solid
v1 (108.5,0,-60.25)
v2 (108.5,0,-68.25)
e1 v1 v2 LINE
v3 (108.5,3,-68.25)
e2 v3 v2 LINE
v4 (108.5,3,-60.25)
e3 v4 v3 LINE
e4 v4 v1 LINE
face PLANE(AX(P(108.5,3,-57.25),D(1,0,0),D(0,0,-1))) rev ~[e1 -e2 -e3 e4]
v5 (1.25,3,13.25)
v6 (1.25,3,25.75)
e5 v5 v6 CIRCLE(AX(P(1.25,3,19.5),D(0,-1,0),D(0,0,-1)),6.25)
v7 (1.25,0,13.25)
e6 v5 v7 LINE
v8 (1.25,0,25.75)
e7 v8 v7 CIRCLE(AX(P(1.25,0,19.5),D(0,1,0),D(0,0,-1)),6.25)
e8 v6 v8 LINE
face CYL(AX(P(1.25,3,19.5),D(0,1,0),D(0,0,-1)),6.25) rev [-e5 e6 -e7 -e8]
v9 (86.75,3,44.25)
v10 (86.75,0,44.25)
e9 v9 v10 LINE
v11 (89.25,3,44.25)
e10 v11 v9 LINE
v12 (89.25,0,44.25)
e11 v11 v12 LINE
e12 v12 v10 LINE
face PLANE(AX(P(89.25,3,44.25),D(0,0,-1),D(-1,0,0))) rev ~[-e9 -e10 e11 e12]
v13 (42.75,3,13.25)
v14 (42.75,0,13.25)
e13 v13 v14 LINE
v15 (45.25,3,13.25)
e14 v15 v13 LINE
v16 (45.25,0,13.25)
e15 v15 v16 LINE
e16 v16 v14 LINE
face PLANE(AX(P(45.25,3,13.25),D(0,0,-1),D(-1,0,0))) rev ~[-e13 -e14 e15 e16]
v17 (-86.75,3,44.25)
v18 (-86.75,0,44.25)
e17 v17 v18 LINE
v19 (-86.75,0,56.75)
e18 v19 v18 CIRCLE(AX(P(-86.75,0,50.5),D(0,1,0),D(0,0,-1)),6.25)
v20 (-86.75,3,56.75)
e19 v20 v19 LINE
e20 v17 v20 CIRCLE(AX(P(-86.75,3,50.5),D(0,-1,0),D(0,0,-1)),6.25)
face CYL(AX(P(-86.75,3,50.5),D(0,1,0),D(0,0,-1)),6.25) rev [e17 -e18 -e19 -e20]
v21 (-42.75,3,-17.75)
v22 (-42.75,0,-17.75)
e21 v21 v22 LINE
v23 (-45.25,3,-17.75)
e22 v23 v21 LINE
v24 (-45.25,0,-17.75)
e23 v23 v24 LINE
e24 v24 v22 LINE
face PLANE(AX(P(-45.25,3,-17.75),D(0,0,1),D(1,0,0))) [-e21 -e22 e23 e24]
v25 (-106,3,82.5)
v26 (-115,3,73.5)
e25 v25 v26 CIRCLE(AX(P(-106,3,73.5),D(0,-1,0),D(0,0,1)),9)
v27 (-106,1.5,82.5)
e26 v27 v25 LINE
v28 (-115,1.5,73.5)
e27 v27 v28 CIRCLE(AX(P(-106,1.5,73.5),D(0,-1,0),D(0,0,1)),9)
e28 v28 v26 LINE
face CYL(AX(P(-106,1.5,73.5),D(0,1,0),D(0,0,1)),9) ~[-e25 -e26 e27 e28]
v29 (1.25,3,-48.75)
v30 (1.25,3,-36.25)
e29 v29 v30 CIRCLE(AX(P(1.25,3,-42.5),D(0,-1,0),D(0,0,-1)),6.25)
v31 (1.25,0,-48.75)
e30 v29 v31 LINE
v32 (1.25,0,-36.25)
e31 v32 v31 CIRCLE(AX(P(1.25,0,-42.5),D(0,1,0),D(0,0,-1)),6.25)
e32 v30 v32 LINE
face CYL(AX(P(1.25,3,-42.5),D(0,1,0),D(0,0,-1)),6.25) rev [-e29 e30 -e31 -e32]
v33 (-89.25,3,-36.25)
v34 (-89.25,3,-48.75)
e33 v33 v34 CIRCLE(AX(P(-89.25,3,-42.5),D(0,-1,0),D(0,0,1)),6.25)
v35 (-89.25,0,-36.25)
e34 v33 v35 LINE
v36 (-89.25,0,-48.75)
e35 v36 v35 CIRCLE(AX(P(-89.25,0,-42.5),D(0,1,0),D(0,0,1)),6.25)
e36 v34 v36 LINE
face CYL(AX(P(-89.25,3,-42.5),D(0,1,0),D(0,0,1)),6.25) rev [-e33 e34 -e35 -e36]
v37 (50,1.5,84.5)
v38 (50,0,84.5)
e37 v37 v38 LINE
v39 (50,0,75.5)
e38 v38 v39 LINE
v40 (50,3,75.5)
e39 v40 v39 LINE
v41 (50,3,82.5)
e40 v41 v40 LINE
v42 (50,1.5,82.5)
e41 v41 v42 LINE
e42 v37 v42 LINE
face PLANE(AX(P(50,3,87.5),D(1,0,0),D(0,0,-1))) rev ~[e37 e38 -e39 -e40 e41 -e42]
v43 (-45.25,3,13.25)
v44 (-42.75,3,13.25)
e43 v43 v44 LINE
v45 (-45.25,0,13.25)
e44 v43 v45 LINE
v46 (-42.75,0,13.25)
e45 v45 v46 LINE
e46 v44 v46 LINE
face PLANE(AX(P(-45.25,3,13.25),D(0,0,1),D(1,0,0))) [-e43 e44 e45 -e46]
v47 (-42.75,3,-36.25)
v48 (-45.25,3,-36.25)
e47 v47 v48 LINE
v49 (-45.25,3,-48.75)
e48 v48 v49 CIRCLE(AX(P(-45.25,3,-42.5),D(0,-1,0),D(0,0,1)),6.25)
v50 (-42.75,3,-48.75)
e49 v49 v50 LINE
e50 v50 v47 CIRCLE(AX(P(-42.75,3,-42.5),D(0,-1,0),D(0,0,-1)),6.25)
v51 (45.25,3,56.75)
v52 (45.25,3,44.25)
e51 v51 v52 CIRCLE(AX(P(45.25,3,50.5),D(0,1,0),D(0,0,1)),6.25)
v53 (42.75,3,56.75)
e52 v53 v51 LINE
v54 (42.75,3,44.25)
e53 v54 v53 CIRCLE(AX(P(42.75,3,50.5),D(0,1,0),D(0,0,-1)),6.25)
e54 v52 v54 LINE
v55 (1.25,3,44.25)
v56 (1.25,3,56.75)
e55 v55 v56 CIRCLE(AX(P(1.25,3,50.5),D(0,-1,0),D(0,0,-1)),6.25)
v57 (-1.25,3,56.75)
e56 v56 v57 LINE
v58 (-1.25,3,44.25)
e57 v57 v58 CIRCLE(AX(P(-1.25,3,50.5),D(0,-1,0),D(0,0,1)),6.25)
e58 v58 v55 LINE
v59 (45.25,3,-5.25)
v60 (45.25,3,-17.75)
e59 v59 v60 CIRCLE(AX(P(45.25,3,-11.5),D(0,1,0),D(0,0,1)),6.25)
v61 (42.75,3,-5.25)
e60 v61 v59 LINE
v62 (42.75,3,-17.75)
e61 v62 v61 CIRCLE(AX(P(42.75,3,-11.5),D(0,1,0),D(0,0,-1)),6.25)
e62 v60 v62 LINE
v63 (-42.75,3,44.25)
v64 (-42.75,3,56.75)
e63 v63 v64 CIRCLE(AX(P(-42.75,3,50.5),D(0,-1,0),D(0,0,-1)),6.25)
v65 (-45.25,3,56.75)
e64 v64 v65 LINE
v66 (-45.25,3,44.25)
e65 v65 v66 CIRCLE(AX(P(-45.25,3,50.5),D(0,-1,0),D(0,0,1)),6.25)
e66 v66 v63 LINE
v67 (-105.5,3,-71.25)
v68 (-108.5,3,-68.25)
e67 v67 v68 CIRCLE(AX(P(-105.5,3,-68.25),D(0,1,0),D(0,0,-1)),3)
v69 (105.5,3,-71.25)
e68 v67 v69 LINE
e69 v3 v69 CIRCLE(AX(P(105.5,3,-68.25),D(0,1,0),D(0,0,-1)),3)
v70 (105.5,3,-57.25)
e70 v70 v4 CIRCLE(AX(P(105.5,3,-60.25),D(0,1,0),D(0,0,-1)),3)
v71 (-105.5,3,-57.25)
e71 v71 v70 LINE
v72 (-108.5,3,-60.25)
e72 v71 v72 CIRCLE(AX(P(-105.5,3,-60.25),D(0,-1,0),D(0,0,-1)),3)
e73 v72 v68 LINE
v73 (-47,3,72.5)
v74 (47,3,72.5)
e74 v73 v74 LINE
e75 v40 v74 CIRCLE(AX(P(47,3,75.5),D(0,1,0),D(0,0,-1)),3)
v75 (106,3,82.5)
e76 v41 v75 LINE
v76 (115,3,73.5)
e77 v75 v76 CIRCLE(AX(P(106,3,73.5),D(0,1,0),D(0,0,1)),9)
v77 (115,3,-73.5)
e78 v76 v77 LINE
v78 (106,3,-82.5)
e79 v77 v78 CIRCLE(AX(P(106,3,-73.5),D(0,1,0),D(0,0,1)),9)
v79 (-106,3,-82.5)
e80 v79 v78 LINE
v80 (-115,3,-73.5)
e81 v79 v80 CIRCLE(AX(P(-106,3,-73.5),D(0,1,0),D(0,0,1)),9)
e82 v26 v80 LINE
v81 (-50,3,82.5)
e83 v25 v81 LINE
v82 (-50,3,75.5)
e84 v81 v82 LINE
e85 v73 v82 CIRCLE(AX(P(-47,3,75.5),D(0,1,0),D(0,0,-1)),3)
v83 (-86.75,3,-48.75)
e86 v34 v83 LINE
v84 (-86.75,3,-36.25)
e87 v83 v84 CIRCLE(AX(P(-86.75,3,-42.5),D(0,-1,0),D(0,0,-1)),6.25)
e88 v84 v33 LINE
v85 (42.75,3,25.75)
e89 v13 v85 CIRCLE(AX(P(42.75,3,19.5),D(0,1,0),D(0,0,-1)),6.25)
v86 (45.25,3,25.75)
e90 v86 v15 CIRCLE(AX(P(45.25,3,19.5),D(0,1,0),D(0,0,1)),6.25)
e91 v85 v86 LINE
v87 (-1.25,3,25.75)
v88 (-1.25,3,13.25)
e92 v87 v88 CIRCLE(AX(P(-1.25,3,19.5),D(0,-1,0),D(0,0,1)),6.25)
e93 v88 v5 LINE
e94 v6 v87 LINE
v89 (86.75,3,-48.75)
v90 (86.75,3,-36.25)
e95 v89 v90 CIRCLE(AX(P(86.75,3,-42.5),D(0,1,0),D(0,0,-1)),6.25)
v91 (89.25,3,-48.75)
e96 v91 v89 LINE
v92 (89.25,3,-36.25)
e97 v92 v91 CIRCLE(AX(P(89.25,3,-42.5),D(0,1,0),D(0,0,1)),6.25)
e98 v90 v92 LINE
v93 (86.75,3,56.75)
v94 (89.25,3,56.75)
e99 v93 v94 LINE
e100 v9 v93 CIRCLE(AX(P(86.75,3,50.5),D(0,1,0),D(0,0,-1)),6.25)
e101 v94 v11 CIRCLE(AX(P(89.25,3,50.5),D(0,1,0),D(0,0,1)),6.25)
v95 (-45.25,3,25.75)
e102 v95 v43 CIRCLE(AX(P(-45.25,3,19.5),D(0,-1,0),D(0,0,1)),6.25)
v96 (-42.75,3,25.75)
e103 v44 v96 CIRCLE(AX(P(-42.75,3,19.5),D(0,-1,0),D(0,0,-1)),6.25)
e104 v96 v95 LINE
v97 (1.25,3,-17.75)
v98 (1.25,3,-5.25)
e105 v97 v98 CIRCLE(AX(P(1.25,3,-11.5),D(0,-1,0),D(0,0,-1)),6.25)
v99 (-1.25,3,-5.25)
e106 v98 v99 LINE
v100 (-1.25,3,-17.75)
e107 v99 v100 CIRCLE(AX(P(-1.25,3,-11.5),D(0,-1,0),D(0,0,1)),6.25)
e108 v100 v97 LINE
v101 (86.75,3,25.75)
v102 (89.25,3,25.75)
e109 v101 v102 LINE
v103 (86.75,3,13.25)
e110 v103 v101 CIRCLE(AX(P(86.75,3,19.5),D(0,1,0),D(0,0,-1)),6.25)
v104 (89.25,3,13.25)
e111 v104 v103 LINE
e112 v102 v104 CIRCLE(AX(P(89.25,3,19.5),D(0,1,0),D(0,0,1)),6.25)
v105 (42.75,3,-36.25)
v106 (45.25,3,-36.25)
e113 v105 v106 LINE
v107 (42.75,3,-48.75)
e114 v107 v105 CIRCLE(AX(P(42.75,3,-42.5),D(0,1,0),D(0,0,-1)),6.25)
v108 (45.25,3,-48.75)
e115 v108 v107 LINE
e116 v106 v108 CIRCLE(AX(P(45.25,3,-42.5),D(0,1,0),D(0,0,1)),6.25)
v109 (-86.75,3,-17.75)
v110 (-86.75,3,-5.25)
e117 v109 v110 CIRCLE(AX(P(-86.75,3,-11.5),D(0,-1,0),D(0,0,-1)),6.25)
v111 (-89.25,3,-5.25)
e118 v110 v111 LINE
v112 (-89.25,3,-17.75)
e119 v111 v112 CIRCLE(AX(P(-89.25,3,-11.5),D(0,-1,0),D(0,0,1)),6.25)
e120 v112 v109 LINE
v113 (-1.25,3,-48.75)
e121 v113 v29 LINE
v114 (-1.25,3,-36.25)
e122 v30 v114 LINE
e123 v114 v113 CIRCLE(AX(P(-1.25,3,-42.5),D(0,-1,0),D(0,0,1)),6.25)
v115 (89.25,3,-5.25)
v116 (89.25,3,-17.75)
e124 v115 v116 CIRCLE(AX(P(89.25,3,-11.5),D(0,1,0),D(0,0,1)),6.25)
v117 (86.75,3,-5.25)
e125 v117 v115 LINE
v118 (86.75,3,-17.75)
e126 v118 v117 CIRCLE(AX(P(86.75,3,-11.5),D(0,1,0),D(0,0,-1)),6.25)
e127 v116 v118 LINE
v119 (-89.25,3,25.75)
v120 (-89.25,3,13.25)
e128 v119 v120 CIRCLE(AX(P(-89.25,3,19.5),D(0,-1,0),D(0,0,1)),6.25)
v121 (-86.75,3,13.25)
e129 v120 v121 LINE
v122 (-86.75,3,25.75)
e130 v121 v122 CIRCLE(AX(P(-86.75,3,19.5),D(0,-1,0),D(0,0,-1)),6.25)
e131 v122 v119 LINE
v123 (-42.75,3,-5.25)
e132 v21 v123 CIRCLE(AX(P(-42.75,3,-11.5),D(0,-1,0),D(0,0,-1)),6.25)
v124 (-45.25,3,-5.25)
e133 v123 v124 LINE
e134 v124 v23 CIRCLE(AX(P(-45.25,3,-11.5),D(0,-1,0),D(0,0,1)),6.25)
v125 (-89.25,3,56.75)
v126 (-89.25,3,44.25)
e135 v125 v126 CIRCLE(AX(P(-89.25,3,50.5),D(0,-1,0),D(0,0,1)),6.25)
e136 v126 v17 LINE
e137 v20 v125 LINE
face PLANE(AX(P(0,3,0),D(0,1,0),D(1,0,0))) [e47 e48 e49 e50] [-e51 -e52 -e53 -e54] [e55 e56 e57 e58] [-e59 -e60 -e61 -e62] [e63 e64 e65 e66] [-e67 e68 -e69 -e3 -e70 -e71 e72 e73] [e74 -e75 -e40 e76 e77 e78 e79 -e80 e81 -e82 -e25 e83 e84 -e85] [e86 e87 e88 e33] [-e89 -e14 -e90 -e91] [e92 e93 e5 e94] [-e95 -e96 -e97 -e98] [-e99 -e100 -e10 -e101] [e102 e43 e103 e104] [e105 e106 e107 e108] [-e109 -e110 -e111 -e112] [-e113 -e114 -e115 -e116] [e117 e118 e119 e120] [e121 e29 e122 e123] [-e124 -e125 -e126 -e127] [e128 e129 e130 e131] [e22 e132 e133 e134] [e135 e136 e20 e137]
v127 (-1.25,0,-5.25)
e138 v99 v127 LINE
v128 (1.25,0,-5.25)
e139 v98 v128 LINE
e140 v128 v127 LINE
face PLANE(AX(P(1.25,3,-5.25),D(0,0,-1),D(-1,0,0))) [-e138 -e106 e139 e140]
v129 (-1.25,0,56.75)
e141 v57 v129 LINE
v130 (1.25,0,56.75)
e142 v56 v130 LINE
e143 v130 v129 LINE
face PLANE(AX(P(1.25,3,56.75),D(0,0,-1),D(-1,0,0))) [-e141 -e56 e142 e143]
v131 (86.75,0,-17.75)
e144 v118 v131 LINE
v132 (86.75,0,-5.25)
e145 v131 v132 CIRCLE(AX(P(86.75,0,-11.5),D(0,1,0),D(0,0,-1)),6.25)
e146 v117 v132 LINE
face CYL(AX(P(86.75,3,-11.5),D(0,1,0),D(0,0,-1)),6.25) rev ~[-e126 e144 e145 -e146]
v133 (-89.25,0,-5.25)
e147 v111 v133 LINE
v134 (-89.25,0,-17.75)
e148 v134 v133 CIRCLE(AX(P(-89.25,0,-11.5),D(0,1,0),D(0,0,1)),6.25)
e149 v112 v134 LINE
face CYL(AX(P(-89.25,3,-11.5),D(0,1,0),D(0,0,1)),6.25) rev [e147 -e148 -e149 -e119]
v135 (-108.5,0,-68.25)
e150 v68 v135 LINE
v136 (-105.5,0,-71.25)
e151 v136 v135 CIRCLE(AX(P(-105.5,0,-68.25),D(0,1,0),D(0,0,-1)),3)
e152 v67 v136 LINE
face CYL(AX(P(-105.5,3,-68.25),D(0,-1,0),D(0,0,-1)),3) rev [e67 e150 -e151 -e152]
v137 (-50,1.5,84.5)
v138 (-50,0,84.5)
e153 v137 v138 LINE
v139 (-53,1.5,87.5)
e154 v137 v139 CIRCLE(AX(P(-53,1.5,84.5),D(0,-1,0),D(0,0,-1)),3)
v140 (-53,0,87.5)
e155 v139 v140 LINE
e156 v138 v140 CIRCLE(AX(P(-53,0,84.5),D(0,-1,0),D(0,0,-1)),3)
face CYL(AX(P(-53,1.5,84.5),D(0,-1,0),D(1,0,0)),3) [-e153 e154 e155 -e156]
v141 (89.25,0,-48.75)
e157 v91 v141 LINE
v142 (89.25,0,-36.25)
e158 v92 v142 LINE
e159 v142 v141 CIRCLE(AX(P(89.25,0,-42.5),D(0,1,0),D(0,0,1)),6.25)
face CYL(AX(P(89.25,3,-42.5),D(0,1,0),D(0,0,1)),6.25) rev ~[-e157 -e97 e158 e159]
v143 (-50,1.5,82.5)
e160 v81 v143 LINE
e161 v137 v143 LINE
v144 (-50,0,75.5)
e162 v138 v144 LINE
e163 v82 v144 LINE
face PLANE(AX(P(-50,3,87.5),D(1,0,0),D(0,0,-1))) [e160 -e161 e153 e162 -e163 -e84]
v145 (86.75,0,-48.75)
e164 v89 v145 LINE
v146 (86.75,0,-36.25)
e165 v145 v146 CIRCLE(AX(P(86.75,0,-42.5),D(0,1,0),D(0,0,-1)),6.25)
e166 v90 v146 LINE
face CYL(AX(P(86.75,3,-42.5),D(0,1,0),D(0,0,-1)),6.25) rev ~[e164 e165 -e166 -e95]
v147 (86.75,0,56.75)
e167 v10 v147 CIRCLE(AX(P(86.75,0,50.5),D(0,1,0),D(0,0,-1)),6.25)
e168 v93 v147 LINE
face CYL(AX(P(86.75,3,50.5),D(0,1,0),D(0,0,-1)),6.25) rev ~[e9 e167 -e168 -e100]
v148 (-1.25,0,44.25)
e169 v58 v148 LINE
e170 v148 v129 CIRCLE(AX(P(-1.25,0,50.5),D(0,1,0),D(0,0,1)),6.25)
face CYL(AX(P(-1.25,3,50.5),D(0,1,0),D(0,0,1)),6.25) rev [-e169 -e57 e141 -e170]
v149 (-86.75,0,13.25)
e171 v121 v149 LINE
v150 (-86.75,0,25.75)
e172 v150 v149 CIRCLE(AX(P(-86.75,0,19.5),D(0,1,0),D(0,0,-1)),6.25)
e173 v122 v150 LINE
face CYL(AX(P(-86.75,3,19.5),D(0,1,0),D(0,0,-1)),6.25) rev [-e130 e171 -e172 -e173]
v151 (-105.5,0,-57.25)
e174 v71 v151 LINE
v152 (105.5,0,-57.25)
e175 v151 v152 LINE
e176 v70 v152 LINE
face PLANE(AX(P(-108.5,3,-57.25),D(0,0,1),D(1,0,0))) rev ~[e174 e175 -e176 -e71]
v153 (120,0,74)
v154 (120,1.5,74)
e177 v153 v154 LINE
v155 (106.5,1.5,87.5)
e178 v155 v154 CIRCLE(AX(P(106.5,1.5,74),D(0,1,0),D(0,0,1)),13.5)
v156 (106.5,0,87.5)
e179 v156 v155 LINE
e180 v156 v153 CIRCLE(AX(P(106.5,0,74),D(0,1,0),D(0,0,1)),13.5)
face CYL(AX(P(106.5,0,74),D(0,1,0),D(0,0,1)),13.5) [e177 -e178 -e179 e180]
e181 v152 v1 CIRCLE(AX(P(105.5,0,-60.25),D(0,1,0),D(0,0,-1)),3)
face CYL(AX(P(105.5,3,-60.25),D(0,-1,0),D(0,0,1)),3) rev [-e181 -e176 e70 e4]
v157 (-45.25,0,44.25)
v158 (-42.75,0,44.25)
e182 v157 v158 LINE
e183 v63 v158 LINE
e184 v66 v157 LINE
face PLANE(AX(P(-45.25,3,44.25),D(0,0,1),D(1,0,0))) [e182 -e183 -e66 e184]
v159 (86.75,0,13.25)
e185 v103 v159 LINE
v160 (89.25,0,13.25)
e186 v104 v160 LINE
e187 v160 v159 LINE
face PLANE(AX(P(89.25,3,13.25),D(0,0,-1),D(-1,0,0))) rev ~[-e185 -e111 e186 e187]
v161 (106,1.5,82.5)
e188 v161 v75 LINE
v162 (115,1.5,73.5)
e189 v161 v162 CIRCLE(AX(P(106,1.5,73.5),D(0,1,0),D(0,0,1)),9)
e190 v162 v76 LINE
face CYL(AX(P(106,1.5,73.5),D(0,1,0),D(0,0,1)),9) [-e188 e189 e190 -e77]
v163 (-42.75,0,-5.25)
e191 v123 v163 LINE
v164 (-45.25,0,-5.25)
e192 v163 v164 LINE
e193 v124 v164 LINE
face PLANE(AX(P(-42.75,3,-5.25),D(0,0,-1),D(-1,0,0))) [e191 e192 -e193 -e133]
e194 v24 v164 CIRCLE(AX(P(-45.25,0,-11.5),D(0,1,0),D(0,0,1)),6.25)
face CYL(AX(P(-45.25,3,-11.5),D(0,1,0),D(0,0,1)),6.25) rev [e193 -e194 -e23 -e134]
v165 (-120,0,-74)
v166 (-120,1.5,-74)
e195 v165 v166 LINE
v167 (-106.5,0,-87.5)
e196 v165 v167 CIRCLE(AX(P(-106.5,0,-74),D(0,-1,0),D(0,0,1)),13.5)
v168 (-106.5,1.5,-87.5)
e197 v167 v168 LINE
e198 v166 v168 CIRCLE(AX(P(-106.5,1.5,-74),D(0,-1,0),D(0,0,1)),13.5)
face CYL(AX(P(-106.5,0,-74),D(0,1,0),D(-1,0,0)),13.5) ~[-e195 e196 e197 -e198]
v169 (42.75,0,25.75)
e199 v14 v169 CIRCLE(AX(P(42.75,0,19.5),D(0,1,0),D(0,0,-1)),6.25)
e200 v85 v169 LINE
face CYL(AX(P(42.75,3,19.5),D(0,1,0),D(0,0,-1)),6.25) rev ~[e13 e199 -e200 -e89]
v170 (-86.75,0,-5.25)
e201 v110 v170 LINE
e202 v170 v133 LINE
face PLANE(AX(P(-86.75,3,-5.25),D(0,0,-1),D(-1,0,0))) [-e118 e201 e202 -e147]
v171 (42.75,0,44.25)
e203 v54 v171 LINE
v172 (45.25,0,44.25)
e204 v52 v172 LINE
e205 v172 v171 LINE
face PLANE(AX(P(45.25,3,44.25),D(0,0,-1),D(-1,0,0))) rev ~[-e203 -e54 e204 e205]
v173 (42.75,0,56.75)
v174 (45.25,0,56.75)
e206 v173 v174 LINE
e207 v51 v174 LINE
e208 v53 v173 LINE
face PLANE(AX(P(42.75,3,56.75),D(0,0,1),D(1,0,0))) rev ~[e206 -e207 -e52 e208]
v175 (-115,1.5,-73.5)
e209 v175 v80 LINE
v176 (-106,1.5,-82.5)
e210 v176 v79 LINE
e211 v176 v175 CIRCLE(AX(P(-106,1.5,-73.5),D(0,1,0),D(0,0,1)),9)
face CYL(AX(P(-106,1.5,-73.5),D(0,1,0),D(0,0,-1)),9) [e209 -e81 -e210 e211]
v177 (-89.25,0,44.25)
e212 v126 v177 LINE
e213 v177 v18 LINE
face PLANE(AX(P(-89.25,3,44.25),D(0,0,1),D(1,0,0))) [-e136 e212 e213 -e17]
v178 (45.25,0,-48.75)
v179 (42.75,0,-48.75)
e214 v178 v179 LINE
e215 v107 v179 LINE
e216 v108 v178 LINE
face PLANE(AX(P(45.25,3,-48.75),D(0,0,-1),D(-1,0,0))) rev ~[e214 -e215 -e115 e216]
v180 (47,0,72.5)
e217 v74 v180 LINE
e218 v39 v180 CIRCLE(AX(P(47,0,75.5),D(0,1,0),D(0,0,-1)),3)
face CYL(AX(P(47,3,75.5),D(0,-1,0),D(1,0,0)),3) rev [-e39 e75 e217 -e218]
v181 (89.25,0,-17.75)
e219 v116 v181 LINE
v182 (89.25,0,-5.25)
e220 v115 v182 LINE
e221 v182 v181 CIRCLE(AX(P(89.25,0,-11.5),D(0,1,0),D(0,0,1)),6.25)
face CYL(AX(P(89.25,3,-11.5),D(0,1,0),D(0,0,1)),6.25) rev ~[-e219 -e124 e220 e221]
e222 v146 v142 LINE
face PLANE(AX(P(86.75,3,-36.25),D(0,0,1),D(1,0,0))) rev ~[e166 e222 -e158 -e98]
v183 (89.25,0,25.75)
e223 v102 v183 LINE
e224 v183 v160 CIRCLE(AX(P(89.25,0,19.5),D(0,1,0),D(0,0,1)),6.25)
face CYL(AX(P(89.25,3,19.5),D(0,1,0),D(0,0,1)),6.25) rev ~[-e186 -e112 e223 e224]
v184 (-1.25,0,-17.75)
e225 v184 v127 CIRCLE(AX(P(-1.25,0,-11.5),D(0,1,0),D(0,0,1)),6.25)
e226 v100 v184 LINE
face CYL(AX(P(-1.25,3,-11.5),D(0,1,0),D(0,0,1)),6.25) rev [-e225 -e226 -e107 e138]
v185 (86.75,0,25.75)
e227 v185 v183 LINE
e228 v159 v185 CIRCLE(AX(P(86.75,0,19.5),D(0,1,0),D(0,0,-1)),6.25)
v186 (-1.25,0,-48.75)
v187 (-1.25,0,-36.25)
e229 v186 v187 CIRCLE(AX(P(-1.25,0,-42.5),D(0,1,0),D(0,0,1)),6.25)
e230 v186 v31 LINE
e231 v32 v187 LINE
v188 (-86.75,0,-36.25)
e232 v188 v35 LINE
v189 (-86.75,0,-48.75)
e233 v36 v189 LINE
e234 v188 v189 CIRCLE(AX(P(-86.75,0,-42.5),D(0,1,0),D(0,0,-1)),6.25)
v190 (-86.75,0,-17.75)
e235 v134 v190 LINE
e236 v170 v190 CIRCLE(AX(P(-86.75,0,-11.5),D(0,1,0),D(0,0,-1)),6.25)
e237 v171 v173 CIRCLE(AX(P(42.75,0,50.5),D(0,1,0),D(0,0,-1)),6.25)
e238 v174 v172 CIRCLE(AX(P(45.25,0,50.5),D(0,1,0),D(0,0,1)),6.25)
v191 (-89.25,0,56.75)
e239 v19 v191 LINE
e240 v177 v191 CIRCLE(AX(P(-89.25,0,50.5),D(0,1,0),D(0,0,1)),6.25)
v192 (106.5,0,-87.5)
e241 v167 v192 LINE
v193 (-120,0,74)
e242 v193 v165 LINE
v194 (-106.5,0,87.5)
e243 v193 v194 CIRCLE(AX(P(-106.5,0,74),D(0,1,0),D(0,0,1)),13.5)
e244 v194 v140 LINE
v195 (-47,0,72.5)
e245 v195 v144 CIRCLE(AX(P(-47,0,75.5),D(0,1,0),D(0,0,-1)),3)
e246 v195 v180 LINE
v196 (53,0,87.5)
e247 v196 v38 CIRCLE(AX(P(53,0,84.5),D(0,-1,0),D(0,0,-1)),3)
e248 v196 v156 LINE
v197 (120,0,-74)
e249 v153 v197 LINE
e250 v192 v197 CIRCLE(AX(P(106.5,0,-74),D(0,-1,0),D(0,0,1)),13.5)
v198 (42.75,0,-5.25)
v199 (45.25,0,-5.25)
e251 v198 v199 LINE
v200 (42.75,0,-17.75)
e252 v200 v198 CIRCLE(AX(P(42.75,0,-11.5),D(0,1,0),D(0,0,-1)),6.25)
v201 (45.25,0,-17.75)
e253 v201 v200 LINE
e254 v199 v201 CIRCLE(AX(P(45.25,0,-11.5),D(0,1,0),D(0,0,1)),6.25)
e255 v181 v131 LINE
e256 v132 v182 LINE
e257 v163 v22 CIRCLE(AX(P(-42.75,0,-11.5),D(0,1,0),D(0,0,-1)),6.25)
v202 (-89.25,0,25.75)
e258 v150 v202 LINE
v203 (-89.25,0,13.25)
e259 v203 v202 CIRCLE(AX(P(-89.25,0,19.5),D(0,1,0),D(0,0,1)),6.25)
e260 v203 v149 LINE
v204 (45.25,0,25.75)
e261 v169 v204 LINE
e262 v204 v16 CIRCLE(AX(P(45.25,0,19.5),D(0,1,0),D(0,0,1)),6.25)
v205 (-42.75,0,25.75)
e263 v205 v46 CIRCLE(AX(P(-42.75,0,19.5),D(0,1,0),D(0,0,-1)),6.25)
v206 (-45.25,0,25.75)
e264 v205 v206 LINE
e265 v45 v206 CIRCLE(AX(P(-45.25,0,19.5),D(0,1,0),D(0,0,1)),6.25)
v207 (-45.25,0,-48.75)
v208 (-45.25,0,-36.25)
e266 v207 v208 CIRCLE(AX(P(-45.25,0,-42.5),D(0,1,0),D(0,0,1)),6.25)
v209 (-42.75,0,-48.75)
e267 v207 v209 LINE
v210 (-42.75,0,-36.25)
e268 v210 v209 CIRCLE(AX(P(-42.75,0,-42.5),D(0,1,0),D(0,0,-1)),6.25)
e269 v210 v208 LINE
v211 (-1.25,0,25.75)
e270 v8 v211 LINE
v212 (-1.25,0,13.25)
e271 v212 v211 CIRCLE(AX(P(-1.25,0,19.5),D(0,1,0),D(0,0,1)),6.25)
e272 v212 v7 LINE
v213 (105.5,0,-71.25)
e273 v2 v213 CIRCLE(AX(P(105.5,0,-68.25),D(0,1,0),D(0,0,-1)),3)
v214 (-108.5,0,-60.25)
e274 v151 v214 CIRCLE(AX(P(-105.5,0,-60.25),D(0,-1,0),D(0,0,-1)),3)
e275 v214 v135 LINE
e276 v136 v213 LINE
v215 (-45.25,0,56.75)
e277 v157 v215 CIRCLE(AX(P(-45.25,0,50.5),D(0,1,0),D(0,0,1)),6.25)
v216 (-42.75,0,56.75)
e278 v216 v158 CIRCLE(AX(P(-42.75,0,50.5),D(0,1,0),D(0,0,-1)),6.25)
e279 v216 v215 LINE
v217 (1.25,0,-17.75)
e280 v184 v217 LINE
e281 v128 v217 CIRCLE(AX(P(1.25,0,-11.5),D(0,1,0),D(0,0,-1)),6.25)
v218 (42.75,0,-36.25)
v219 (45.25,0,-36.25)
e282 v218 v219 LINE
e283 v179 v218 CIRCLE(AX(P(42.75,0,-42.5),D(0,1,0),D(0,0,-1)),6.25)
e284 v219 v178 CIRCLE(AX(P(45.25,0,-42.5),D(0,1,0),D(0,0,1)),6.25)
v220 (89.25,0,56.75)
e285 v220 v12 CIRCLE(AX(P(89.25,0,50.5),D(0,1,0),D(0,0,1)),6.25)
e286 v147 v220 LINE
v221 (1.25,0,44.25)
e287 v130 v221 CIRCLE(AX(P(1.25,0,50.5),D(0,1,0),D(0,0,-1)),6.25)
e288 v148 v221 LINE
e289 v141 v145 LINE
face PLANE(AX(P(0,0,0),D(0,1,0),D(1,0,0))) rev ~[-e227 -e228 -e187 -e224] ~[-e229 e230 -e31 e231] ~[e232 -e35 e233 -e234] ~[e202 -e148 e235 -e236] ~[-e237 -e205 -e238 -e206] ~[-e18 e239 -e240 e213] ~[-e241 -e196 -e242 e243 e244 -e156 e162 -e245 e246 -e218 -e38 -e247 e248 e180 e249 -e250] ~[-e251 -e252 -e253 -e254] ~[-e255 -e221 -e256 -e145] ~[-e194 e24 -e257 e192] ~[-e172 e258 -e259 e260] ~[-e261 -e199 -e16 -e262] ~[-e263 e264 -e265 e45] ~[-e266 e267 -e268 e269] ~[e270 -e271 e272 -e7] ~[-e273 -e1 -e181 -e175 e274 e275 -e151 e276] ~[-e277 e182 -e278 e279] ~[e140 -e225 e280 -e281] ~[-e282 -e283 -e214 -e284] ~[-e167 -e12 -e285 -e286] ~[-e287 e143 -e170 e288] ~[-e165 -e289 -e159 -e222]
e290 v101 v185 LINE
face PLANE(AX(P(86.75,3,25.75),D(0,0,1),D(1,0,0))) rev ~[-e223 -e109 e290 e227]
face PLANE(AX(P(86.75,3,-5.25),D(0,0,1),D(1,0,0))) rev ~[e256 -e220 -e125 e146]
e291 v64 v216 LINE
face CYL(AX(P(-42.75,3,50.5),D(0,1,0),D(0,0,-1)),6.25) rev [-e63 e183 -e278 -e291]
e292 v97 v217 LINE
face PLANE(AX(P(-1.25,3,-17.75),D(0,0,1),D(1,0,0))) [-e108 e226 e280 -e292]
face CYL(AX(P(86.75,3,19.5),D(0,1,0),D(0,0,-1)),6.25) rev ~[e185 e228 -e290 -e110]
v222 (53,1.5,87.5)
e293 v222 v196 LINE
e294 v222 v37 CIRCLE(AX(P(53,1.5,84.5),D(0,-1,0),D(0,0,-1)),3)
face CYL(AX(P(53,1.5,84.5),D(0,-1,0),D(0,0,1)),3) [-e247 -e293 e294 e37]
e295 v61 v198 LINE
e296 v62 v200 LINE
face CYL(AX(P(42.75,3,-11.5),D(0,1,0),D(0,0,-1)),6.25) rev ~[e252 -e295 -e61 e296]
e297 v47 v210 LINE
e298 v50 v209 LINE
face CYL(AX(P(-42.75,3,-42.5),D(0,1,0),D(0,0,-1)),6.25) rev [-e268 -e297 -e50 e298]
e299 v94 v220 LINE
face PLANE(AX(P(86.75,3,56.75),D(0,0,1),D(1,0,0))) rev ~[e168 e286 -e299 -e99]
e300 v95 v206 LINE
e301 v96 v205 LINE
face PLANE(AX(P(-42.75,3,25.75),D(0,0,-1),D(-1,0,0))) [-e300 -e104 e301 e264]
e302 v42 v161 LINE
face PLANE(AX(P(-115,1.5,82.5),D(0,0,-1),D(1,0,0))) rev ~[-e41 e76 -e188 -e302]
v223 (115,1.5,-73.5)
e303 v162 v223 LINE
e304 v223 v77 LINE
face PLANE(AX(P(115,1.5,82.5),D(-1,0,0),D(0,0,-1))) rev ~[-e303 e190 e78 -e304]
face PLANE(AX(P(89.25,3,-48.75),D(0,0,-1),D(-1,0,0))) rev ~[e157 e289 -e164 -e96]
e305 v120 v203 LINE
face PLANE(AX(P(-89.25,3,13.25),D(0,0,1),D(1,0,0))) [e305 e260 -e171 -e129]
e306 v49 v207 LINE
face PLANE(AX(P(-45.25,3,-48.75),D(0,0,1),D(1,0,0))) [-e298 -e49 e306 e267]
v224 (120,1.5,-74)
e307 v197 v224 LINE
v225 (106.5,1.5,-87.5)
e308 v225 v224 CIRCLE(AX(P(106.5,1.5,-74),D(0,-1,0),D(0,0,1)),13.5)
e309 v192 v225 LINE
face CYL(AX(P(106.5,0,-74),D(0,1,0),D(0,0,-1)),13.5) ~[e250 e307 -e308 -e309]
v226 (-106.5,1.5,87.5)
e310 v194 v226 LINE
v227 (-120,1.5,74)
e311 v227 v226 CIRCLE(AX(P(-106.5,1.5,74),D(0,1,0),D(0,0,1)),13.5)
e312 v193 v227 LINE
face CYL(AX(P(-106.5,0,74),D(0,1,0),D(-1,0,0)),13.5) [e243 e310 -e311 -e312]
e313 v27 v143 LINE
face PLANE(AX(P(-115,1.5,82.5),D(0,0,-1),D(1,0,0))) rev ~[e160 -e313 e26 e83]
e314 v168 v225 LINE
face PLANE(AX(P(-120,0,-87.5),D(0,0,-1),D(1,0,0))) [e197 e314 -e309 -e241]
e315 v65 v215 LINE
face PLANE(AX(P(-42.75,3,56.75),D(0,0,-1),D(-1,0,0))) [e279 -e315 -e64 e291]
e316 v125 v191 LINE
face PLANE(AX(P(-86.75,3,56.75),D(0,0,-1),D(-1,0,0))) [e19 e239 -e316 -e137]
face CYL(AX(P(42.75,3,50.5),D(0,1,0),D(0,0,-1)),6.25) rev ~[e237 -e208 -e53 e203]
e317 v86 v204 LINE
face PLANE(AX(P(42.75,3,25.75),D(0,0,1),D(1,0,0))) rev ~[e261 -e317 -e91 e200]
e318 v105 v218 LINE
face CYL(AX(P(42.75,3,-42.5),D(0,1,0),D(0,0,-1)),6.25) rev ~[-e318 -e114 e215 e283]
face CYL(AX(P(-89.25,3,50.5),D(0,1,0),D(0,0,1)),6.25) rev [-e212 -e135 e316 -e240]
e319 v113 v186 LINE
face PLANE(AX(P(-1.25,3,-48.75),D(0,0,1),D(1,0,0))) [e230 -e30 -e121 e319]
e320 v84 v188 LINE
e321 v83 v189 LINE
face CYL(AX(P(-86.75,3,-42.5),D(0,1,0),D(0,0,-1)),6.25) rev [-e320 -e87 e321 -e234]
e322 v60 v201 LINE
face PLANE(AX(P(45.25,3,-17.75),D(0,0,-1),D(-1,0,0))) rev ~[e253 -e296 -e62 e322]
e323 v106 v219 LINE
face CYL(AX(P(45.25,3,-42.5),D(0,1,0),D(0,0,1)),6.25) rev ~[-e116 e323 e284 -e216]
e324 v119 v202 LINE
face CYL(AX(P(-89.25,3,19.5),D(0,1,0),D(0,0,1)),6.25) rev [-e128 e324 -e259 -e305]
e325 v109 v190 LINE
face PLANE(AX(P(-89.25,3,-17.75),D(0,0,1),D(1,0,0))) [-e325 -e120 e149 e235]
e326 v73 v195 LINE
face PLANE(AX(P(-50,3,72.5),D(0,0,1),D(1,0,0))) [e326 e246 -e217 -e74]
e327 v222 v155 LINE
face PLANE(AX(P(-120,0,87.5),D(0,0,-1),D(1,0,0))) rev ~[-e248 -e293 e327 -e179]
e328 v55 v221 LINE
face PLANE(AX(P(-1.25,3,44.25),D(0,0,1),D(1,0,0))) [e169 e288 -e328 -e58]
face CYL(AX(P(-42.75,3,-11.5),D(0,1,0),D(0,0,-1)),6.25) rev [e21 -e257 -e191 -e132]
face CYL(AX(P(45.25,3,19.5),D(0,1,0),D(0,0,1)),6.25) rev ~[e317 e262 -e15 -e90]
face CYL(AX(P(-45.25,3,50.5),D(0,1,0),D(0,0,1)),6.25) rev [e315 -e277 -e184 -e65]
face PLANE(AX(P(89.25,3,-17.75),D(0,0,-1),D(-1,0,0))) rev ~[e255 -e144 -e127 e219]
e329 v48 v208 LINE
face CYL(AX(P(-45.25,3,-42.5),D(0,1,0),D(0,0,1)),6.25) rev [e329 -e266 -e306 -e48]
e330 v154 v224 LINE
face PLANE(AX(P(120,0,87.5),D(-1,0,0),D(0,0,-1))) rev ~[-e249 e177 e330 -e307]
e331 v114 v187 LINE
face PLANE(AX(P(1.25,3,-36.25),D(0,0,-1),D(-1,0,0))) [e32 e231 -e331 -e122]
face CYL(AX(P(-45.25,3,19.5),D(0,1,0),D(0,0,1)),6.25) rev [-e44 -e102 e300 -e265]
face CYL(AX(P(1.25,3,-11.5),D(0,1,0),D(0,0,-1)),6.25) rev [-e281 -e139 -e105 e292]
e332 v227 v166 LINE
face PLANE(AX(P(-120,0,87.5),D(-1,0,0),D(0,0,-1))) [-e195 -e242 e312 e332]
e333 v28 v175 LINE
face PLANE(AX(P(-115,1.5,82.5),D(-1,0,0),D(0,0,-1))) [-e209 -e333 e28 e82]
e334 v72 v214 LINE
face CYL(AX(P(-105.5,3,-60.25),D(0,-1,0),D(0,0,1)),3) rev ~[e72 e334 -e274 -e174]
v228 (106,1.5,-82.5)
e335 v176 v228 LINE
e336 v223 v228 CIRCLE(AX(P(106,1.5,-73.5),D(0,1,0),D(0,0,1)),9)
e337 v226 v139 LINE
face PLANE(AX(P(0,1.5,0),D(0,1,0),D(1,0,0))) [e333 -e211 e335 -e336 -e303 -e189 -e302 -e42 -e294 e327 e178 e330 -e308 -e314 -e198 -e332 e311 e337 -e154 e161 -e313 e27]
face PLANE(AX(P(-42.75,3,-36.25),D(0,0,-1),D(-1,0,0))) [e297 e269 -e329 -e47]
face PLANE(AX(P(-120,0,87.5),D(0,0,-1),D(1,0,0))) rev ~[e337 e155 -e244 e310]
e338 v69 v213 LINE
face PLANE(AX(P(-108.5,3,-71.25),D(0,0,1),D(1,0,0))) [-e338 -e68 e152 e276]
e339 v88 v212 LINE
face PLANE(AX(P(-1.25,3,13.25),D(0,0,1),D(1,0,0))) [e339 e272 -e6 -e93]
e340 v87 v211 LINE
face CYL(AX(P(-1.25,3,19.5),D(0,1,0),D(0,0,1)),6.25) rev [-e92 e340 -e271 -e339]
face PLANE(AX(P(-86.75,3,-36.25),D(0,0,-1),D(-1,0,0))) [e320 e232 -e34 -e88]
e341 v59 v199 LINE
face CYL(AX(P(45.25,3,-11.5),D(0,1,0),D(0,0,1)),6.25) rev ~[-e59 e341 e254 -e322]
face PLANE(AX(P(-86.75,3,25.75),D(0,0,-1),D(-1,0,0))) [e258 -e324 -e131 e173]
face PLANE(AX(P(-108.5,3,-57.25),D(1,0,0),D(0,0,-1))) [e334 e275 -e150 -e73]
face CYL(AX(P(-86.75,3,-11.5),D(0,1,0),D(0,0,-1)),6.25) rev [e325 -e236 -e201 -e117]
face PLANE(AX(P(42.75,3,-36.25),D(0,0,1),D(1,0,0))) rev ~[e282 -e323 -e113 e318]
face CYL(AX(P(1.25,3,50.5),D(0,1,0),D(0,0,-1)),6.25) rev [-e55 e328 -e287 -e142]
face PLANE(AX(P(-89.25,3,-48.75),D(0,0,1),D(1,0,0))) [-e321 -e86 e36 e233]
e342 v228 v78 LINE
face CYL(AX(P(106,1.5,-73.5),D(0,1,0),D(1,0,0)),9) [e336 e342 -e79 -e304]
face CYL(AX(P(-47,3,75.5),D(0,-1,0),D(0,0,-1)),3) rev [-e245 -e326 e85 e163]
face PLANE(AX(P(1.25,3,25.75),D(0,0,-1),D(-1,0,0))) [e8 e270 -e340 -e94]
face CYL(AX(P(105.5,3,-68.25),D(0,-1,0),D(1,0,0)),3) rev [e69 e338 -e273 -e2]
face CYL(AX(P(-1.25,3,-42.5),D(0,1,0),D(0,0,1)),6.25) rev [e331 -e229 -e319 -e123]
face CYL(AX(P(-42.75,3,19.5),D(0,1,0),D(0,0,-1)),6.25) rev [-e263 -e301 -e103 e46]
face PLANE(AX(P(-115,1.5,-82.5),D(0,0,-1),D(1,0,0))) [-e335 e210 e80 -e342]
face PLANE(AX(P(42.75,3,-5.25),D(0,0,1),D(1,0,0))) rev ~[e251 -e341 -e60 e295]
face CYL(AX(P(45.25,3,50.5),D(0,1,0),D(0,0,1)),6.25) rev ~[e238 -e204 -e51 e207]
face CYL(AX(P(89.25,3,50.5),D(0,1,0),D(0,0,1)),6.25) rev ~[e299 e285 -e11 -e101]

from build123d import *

# Parameters (mm, degrees)
SKETCH1_W                = 240
SKETCH1_H                = 175
OUTER_PROFILE_DEPTH      = 1.5
SKETCH2_W                = 230
SKETCH2_H                = 165
INNER_PROFILE_DEPTH      = 1.5
FILLET1_R                = 9
FILLET2_R                = 13.5
CUTOUT_DEPTH             = 149.543764595
CUTOUTS_COUNT            = 3
CUTOUTS_PITCH            = 44
CUTOUTS_COUNT_DIR2       = 4
CUTOUTS_PITCH_DIR2       = 31
MIRROR1_COPY_1_DEPTH     = 149.543764595
MIRROR1_COPY_2_DEPTH     = 149.543764595
MIRROR1_COPY_3_DEPTH     = 149.543764595
MIRROR1_COPY_4_DEPTH     = 149.543764595
MIRROR1_COPY_5_DEPTH     = 149.543764595
MIRROR1_COPY_6_DEPTH     = 149.543764595
MIRROR1_COPY_7_DEPTH     = 149.543764595
MIRROR1_COPY_8_DEPTH     = 149.543764595
MIRROR1_COPY_9_DEPTH     = 149.543764595
MIRROR1_COPY_10_DEPTH    = 149.543764595
MIRROR1_COPY_11_DEPTH    = 149.543764595
MIRROR1_COPY_12_DEPTH    = 149.543764595
SKETCH4_W                = 217
SKETCH4_H                = 14
MESSAGE_WINDOW_DEPTH     = 149.543764595
MESSAGE_WINDOW_CORNERS_R = 3
SKETCH6_W                = 100
SKETCH6_H                = 15
BASE_CUTBACK_DEPTH       = 149.543764595
FILLET5_R                = 3


with BuildPart() as part:
    # Sketch1 → Outer Profile (new body)
    with BuildSketch(Plane(origin=(0, 0, 0), x_dir=(1, 0, 0), z_dir=(0, 1, 0))):
        Rectangle(SKETCH1_W, SKETCH1_H)
    extrude(amount=OUTER_PROFILE_DEPTH)

    # Sketch2 → Inner Profile (add)
    with BuildSketch(Plane(origin=(0, 1.5, 0), x_dir=(1, 0, 0), z_dir=(0, 1, 0))):
        Rectangle(SKETCH2_W, SKETCH2_H)
    extrude(amount=INNER_PROFILE_DEPTH)

    # Fillet1
    fillet1_edges = [part.edges().sort_by_distance(p)[0] for p in [
        (115, 2.25, 82.5),
        (115, 2.25, -82.5),
        (-115, 2.25, -82.5),
        (-115, 2.25, 82.5),
    ]]
    fillet(fillet1_edges, radius=FILLET1_R)

    # Fillet2
    fillet2_edges = [part.edges().sort_by_distance(p)[0] for p in [
        (120, 0.75, 87.5),
        (-120, 0.75, 87.5),
        (-120, 0.75, -87.5),
        (120, 0.75, -87.5),
    ]]
    fillet(fillet2_edges, radius=FILLET2_R)

    # Sketch3 → Cutout (cut, through all)
    with BuildSketch(Plane(origin=(0, 3, 0), x_dir=(1, 0, 0), z_dir=(0, 1, 0))):
        with BuildLine():
            Line((-1.25, -44.25), (1.25, -44.25))
            ThreePointArc((1.25, -44.25), (7.5, -50.5), (1.25, -56.75))
            Line((1.25, -56.75), (-1.25, -56.75))
            ThreePointArc((-1.25, -56.75), (-7.5, -50.5), (-1.25, -44.25))
        make_face()
    cutout = extrude(amount=-CUTOUT_DEPTH, mode=Mode.SUBTRACT)

    # Cutouts: Cutout 3 × 4
    with Locations(*[(-i * CUTOUTS_PITCH, 0, -j * CUTOUTS_PITCH_DIR2) for i in range(CUTOUTS_COUNT) for j in range(CUTOUTS_COUNT_DIR2) if (i, j) != (0, 0)]):
        add(cutout, mode=Mode.SUBTRACT)

    # Mirror1 copy 1 sketch → Mirror1 copy 1 (cut, through all)
    with BuildSketch(Plane(origin=(0, 3, -31), x_dir=(-1, 0, 0), z_dir=(0, 1, 0))):
        with BuildLine():
            Line((-1.25, 44.25), (1.25, 44.25))
            ThreePointArc((1.25, 44.25), (7.5, 50.5), (1.25, 56.75))
            Line((1.25, 56.75), (-1.25, 56.75))
            ThreePointArc((-1.25, 56.75), (-7.5, 50.5), (-1.25, 44.25))
        make_face()
    extrude(amount=-MIRROR1_COPY_1_DEPTH, mode=Mode.SUBTRACT)

    # Mirror1 copy 2 sketch → Mirror1 copy 2 (cut, through all)
    with BuildSketch(Plane(origin=(0, 3, -62), x_dir=(-1, 0, 0), z_dir=(0, 1, 0))):
        with BuildLine():
            Line((-1.25, 44.25), (1.25, 44.25))
            ThreePointArc((1.25, 44.25), (7.5, 50.5), (1.25, 56.75))
            Line((1.25, 56.75), (-1.25, 56.75))
            ThreePointArc((-1.25, 56.75), (-7.5, 50.5), (-1.25, 44.25))
        make_face()
    extrude(amount=-MIRROR1_COPY_2_DEPTH, mode=Mode.SUBTRACT)

    # Mirror1 copy 3 sketch → Mirror1 copy 3 (cut, through all)
    with BuildSketch(Plane(origin=(0, 3, -93), x_dir=(-1, 0, 0), z_dir=(0, 1, 0))):
        with BuildLine():
            Line((-1.25, 44.25), (1.25, 44.25))
            ThreePointArc((1.25, 44.25), (7.5, 50.5), (1.25, 56.75))
            Line((1.25, 56.75), (-1.25, 56.75))
            ThreePointArc((-1.25, 56.75), (-7.5, 50.5), (-1.25, 44.25))
        make_face()
    extrude(amount=-MIRROR1_COPY_3_DEPTH, mode=Mode.SUBTRACT)

    # Mirror1 copy 4 sketch → Mirror1 copy 4 (cut, through all)
    with BuildSketch(Plane(origin=(44, 3, 0), x_dir=(-1, 0, 0), z_dir=(0, 1, 0))):
        with BuildLine():
            Line((-1.25, 44.25), (1.25, 44.25))
            ThreePointArc((1.25, 44.25), (7.5, 50.5), (1.25, 56.75))
            Line((1.25, 56.75), (-1.25, 56.75))
            ThreePointArc((-1.25, 56.75), (-7.5, 50.5), (-1.25, 44.25))
        make_face()
    extrude(amount=-MIRROR1_COPY_4_DEPTH, mode=Mode.SUBTRACT)

    # Mirror1 copy 5 sketch → Mirror1 copy 5 (cut, through all)
    with BuildSketch(Plane(origin=(44, 3, -31), x_dir=(-1, 0, 0), z_dir=(0, 1, 0))):
        with BuildLine():
            Line((-1.25, 44.25), (1.25, 44.25))
            ThreePointArc((1.25, 44.25), (7.5, 50.5), (1.25, 56.75))
            Line((1.25, 56.75), (-1.25, 56.75))
            ThreePointArc((-1.25, 56.75), (-7.5, 50.5), (-1.25, 44.25))
        make_face()
    extrude(amount=-MIRROR1_COPY_5_DEPTH, mode=Mode.SUBTRACT)

    # Mirror1 copy 6 sketch → Mirror1 copy 6 (cut, through all)
    with BuildSketch(Plane(origin=(44, 3, -62), x_dir=(-1, 0, 0), z_dir=(0, 1, 0))):
        with BuildLine():
            Line((-1.25, 44.25), (1.25, 44.25))
            ThreePointArc((1.25, 44.25), (7.5, 50.5), (1.25, 56.75))
            Line((1.25, 56.75), (-1.25, 56.75))
            ThreePointArc((-1.25, 56.75), (-7.5, 50.5), (-1.25, 44.25))
        make_face()
    extrude(amount=-MIRROR1_COPY_6_DEPTH, mode=Mode.SUBTRACT)

    # Mirror1 copy 7 sketch → Mirror1 copy 7 (cut, through all)
    with BuildSketch(Plane(origin=(44, 3, -93), x_dir=(-1, 0, 0), z_dir=(0, 1, 0))):
        with BuildLine():
            Line((-1.25, 44.25), (1.25, 44.25))
            ThreePointArc((1.25, 44.25), (7.5, 50.5), (1.25, 56.75))
            Line((1.25, 56.75), (-1.25, 56.75))
            ThreePointArc((-1.25, 56.75), (-7.5, 50.5), (-1.25, 44.25))
        make_face()
    extrude(amount=-MIRROR1_COPY_7_DEPTH, mode=Mode.SUBTRACT)

    # Mirror1 copy 8 sketch → Mirror1 copy 8 (cut, through all)
    with BuildSketch(Plane(origin=(88, 3, 0), x_dir=(-1, 0, 0), z_dir=(0, 1, 0))):
        with BuildLine():
            Line((-1.25, 44.25), (1.25, 44.25))
            ThreePointArc((1.25, 44.25), (7.5, 50.5), (1.25, 56.75))
            Line((1.25, 56.75), (-1.25, 56.75))
            ThreePointArc((-1.25, 56.75), (-7.5, 50.5), (-1.25, 44.25))
        make_face()
    extrude(amount=-MIRROR1_COPY_8_DEPTH, mode=Mode.SUBTRACT)

    # Mirror1 copy 9 sketch → Mirror1 copy 9 (cut, through all)
    with BuildSketch(Plane(origin=(88, 3, -31), x_dir=(-1, 0, 0), z_dir=(0, 1, 0))):
        with BuildLine():
            Line((-1.25, 44.25), (1.25, 44.25))
            ThreePointArc((1.25, 44.25), (7.5, 50.5), (1.25, 56.75))
            Line((1.25, 56.75), (-1.25, 56.75))
            ThreePointArc((-1.25, 56.75), (-7.5, 50.5), (-1.25, 44.25))
        make_face()
    extrude(amount=-MIRROR1_COPY_9_DEPTH, mode=Mode.SUBTRACT)

    # Mirror1 copy 10 sketch → Mirror1 copy 10 (cut, through all)
    with BuildSketch(Plane(origin=(88, 3, -62), x_dir=(-1, 0, 0), z_dir=(0, 1, 0))):
        with BuildLine():
            Line((-1.25, 44.25), (1.25, 44.25))
            ThreePointArc((1.25, 44.25), (7.5, 50.5), (1.25, 56.75))
            Line((1.25, 56.75), (-1.25, 56.75))
            ThreePointArc((-1.25, 56.75), (-7.5, 50.5), (-1.25, 44.25))
        make_face()
    extrude(amount=-MIRROR1_COPY_10_DEPTH, mode=Mode.SUBTRACT)

    # Mirror1 copy 11 sketch → Mirror1 copy 11 (cut, through all)
    with BuildSketch(Plane(origin=(88, 3, -93), x_dir=(-1, 0, 0), z_dir=(0, 1, 0))):
        with BuildLine():
            Line((-1.25, 44.25), (1.25, 44.25))
            ThreePointArc((1.25, 44.25), (7.5, 50.5), (1.25, 56.75))
            Line((1.25, 56.75), (-1.25, 56.75))
            ThreePointArc((-1.25, 56.75), (-7.5, 50.5), (-1.25, 44.25))
        make_face()
    extrude(amount=-MIRROR1_COPY_11_DEPTH, mode=Mode.SUBTRACT)

    # Mirror1 copy 12 sketch → Mirror1 copy 12 (cut, through all)
    with BuildSketch(Plane(origin=(0, 3, 0), x_dir=(-1, 0, 0), z_dir=(0, 1, 0))):
        with BuildLine():
            Line((-1.25, 44.25), (1.25, 44.25))
            ThreePointArc((1.25, 44.25), (7.5, 50.5), (1.25, 56.75))
            Line((1.25, 56.75), (-1.25, 56.75))
            ThreePointArc((-1.25, 56.75), (-7.5, 50.5), (-1.25, 44.25))
        make_face()
    extrude(amount=-MIRROR1_COPY_12_DEPTH, mode=Mode.SUBTRACT)

    # Sketch4 → Message Window (cut, through all)
    with BuildSketch(Plane(origin=(0, 3, 0), x_dir=(1, 0, 0), z_dir=(0, 1, 0))):
        with Locations((0, 64.25)):
            Rectangle(SKETCH4_W, SKETCH4_H)
    extrude(amount=-MESSAGE_WINDOW_DEPTH, mode=Mode.SUBTRACT)

    # Message Window Corners
    message_window_corners_edges = [part.edges().sort_by_distance(p)[0] for p in [
        (-108.5, 1.5, -57.25),
        (-108.5, 1.5, -71.25),
        (108.5, 1.5, -71.25),
        (108.5, 1.5, -57.25),
    ]]
    fillet(message_window_corners_edges, radius=MESSAGE_WINDOW_CORNERS_R)

    # Sketch6 → Base Cutback (cut, through all)
    with BuildSketch(Plane(origin=(0, 3, 0), x_dir=(1, 0, 0), z_dir=(0, 1, 0))):
        with Locations((0, -80)):
            Rectangle(SKETCH6_W, SKETCH6_H)
    extrude(amount=-BASE_CUTBACK_DEPTH, mode=Mode.SUBTRACT)

    # Fillet5
    fillet5_edges = [part.edges().sort_by_distance(p)[0] for p in [
        (50, 0.75, 87.5),
        (50, 1.5, 72.5),
        (-50, 0.75, 87.5),
        (-50, 1.5, 72.5),
    ]]
    fillet(fillet5_edges, radius=FILLET5_R)


solid = part.part
